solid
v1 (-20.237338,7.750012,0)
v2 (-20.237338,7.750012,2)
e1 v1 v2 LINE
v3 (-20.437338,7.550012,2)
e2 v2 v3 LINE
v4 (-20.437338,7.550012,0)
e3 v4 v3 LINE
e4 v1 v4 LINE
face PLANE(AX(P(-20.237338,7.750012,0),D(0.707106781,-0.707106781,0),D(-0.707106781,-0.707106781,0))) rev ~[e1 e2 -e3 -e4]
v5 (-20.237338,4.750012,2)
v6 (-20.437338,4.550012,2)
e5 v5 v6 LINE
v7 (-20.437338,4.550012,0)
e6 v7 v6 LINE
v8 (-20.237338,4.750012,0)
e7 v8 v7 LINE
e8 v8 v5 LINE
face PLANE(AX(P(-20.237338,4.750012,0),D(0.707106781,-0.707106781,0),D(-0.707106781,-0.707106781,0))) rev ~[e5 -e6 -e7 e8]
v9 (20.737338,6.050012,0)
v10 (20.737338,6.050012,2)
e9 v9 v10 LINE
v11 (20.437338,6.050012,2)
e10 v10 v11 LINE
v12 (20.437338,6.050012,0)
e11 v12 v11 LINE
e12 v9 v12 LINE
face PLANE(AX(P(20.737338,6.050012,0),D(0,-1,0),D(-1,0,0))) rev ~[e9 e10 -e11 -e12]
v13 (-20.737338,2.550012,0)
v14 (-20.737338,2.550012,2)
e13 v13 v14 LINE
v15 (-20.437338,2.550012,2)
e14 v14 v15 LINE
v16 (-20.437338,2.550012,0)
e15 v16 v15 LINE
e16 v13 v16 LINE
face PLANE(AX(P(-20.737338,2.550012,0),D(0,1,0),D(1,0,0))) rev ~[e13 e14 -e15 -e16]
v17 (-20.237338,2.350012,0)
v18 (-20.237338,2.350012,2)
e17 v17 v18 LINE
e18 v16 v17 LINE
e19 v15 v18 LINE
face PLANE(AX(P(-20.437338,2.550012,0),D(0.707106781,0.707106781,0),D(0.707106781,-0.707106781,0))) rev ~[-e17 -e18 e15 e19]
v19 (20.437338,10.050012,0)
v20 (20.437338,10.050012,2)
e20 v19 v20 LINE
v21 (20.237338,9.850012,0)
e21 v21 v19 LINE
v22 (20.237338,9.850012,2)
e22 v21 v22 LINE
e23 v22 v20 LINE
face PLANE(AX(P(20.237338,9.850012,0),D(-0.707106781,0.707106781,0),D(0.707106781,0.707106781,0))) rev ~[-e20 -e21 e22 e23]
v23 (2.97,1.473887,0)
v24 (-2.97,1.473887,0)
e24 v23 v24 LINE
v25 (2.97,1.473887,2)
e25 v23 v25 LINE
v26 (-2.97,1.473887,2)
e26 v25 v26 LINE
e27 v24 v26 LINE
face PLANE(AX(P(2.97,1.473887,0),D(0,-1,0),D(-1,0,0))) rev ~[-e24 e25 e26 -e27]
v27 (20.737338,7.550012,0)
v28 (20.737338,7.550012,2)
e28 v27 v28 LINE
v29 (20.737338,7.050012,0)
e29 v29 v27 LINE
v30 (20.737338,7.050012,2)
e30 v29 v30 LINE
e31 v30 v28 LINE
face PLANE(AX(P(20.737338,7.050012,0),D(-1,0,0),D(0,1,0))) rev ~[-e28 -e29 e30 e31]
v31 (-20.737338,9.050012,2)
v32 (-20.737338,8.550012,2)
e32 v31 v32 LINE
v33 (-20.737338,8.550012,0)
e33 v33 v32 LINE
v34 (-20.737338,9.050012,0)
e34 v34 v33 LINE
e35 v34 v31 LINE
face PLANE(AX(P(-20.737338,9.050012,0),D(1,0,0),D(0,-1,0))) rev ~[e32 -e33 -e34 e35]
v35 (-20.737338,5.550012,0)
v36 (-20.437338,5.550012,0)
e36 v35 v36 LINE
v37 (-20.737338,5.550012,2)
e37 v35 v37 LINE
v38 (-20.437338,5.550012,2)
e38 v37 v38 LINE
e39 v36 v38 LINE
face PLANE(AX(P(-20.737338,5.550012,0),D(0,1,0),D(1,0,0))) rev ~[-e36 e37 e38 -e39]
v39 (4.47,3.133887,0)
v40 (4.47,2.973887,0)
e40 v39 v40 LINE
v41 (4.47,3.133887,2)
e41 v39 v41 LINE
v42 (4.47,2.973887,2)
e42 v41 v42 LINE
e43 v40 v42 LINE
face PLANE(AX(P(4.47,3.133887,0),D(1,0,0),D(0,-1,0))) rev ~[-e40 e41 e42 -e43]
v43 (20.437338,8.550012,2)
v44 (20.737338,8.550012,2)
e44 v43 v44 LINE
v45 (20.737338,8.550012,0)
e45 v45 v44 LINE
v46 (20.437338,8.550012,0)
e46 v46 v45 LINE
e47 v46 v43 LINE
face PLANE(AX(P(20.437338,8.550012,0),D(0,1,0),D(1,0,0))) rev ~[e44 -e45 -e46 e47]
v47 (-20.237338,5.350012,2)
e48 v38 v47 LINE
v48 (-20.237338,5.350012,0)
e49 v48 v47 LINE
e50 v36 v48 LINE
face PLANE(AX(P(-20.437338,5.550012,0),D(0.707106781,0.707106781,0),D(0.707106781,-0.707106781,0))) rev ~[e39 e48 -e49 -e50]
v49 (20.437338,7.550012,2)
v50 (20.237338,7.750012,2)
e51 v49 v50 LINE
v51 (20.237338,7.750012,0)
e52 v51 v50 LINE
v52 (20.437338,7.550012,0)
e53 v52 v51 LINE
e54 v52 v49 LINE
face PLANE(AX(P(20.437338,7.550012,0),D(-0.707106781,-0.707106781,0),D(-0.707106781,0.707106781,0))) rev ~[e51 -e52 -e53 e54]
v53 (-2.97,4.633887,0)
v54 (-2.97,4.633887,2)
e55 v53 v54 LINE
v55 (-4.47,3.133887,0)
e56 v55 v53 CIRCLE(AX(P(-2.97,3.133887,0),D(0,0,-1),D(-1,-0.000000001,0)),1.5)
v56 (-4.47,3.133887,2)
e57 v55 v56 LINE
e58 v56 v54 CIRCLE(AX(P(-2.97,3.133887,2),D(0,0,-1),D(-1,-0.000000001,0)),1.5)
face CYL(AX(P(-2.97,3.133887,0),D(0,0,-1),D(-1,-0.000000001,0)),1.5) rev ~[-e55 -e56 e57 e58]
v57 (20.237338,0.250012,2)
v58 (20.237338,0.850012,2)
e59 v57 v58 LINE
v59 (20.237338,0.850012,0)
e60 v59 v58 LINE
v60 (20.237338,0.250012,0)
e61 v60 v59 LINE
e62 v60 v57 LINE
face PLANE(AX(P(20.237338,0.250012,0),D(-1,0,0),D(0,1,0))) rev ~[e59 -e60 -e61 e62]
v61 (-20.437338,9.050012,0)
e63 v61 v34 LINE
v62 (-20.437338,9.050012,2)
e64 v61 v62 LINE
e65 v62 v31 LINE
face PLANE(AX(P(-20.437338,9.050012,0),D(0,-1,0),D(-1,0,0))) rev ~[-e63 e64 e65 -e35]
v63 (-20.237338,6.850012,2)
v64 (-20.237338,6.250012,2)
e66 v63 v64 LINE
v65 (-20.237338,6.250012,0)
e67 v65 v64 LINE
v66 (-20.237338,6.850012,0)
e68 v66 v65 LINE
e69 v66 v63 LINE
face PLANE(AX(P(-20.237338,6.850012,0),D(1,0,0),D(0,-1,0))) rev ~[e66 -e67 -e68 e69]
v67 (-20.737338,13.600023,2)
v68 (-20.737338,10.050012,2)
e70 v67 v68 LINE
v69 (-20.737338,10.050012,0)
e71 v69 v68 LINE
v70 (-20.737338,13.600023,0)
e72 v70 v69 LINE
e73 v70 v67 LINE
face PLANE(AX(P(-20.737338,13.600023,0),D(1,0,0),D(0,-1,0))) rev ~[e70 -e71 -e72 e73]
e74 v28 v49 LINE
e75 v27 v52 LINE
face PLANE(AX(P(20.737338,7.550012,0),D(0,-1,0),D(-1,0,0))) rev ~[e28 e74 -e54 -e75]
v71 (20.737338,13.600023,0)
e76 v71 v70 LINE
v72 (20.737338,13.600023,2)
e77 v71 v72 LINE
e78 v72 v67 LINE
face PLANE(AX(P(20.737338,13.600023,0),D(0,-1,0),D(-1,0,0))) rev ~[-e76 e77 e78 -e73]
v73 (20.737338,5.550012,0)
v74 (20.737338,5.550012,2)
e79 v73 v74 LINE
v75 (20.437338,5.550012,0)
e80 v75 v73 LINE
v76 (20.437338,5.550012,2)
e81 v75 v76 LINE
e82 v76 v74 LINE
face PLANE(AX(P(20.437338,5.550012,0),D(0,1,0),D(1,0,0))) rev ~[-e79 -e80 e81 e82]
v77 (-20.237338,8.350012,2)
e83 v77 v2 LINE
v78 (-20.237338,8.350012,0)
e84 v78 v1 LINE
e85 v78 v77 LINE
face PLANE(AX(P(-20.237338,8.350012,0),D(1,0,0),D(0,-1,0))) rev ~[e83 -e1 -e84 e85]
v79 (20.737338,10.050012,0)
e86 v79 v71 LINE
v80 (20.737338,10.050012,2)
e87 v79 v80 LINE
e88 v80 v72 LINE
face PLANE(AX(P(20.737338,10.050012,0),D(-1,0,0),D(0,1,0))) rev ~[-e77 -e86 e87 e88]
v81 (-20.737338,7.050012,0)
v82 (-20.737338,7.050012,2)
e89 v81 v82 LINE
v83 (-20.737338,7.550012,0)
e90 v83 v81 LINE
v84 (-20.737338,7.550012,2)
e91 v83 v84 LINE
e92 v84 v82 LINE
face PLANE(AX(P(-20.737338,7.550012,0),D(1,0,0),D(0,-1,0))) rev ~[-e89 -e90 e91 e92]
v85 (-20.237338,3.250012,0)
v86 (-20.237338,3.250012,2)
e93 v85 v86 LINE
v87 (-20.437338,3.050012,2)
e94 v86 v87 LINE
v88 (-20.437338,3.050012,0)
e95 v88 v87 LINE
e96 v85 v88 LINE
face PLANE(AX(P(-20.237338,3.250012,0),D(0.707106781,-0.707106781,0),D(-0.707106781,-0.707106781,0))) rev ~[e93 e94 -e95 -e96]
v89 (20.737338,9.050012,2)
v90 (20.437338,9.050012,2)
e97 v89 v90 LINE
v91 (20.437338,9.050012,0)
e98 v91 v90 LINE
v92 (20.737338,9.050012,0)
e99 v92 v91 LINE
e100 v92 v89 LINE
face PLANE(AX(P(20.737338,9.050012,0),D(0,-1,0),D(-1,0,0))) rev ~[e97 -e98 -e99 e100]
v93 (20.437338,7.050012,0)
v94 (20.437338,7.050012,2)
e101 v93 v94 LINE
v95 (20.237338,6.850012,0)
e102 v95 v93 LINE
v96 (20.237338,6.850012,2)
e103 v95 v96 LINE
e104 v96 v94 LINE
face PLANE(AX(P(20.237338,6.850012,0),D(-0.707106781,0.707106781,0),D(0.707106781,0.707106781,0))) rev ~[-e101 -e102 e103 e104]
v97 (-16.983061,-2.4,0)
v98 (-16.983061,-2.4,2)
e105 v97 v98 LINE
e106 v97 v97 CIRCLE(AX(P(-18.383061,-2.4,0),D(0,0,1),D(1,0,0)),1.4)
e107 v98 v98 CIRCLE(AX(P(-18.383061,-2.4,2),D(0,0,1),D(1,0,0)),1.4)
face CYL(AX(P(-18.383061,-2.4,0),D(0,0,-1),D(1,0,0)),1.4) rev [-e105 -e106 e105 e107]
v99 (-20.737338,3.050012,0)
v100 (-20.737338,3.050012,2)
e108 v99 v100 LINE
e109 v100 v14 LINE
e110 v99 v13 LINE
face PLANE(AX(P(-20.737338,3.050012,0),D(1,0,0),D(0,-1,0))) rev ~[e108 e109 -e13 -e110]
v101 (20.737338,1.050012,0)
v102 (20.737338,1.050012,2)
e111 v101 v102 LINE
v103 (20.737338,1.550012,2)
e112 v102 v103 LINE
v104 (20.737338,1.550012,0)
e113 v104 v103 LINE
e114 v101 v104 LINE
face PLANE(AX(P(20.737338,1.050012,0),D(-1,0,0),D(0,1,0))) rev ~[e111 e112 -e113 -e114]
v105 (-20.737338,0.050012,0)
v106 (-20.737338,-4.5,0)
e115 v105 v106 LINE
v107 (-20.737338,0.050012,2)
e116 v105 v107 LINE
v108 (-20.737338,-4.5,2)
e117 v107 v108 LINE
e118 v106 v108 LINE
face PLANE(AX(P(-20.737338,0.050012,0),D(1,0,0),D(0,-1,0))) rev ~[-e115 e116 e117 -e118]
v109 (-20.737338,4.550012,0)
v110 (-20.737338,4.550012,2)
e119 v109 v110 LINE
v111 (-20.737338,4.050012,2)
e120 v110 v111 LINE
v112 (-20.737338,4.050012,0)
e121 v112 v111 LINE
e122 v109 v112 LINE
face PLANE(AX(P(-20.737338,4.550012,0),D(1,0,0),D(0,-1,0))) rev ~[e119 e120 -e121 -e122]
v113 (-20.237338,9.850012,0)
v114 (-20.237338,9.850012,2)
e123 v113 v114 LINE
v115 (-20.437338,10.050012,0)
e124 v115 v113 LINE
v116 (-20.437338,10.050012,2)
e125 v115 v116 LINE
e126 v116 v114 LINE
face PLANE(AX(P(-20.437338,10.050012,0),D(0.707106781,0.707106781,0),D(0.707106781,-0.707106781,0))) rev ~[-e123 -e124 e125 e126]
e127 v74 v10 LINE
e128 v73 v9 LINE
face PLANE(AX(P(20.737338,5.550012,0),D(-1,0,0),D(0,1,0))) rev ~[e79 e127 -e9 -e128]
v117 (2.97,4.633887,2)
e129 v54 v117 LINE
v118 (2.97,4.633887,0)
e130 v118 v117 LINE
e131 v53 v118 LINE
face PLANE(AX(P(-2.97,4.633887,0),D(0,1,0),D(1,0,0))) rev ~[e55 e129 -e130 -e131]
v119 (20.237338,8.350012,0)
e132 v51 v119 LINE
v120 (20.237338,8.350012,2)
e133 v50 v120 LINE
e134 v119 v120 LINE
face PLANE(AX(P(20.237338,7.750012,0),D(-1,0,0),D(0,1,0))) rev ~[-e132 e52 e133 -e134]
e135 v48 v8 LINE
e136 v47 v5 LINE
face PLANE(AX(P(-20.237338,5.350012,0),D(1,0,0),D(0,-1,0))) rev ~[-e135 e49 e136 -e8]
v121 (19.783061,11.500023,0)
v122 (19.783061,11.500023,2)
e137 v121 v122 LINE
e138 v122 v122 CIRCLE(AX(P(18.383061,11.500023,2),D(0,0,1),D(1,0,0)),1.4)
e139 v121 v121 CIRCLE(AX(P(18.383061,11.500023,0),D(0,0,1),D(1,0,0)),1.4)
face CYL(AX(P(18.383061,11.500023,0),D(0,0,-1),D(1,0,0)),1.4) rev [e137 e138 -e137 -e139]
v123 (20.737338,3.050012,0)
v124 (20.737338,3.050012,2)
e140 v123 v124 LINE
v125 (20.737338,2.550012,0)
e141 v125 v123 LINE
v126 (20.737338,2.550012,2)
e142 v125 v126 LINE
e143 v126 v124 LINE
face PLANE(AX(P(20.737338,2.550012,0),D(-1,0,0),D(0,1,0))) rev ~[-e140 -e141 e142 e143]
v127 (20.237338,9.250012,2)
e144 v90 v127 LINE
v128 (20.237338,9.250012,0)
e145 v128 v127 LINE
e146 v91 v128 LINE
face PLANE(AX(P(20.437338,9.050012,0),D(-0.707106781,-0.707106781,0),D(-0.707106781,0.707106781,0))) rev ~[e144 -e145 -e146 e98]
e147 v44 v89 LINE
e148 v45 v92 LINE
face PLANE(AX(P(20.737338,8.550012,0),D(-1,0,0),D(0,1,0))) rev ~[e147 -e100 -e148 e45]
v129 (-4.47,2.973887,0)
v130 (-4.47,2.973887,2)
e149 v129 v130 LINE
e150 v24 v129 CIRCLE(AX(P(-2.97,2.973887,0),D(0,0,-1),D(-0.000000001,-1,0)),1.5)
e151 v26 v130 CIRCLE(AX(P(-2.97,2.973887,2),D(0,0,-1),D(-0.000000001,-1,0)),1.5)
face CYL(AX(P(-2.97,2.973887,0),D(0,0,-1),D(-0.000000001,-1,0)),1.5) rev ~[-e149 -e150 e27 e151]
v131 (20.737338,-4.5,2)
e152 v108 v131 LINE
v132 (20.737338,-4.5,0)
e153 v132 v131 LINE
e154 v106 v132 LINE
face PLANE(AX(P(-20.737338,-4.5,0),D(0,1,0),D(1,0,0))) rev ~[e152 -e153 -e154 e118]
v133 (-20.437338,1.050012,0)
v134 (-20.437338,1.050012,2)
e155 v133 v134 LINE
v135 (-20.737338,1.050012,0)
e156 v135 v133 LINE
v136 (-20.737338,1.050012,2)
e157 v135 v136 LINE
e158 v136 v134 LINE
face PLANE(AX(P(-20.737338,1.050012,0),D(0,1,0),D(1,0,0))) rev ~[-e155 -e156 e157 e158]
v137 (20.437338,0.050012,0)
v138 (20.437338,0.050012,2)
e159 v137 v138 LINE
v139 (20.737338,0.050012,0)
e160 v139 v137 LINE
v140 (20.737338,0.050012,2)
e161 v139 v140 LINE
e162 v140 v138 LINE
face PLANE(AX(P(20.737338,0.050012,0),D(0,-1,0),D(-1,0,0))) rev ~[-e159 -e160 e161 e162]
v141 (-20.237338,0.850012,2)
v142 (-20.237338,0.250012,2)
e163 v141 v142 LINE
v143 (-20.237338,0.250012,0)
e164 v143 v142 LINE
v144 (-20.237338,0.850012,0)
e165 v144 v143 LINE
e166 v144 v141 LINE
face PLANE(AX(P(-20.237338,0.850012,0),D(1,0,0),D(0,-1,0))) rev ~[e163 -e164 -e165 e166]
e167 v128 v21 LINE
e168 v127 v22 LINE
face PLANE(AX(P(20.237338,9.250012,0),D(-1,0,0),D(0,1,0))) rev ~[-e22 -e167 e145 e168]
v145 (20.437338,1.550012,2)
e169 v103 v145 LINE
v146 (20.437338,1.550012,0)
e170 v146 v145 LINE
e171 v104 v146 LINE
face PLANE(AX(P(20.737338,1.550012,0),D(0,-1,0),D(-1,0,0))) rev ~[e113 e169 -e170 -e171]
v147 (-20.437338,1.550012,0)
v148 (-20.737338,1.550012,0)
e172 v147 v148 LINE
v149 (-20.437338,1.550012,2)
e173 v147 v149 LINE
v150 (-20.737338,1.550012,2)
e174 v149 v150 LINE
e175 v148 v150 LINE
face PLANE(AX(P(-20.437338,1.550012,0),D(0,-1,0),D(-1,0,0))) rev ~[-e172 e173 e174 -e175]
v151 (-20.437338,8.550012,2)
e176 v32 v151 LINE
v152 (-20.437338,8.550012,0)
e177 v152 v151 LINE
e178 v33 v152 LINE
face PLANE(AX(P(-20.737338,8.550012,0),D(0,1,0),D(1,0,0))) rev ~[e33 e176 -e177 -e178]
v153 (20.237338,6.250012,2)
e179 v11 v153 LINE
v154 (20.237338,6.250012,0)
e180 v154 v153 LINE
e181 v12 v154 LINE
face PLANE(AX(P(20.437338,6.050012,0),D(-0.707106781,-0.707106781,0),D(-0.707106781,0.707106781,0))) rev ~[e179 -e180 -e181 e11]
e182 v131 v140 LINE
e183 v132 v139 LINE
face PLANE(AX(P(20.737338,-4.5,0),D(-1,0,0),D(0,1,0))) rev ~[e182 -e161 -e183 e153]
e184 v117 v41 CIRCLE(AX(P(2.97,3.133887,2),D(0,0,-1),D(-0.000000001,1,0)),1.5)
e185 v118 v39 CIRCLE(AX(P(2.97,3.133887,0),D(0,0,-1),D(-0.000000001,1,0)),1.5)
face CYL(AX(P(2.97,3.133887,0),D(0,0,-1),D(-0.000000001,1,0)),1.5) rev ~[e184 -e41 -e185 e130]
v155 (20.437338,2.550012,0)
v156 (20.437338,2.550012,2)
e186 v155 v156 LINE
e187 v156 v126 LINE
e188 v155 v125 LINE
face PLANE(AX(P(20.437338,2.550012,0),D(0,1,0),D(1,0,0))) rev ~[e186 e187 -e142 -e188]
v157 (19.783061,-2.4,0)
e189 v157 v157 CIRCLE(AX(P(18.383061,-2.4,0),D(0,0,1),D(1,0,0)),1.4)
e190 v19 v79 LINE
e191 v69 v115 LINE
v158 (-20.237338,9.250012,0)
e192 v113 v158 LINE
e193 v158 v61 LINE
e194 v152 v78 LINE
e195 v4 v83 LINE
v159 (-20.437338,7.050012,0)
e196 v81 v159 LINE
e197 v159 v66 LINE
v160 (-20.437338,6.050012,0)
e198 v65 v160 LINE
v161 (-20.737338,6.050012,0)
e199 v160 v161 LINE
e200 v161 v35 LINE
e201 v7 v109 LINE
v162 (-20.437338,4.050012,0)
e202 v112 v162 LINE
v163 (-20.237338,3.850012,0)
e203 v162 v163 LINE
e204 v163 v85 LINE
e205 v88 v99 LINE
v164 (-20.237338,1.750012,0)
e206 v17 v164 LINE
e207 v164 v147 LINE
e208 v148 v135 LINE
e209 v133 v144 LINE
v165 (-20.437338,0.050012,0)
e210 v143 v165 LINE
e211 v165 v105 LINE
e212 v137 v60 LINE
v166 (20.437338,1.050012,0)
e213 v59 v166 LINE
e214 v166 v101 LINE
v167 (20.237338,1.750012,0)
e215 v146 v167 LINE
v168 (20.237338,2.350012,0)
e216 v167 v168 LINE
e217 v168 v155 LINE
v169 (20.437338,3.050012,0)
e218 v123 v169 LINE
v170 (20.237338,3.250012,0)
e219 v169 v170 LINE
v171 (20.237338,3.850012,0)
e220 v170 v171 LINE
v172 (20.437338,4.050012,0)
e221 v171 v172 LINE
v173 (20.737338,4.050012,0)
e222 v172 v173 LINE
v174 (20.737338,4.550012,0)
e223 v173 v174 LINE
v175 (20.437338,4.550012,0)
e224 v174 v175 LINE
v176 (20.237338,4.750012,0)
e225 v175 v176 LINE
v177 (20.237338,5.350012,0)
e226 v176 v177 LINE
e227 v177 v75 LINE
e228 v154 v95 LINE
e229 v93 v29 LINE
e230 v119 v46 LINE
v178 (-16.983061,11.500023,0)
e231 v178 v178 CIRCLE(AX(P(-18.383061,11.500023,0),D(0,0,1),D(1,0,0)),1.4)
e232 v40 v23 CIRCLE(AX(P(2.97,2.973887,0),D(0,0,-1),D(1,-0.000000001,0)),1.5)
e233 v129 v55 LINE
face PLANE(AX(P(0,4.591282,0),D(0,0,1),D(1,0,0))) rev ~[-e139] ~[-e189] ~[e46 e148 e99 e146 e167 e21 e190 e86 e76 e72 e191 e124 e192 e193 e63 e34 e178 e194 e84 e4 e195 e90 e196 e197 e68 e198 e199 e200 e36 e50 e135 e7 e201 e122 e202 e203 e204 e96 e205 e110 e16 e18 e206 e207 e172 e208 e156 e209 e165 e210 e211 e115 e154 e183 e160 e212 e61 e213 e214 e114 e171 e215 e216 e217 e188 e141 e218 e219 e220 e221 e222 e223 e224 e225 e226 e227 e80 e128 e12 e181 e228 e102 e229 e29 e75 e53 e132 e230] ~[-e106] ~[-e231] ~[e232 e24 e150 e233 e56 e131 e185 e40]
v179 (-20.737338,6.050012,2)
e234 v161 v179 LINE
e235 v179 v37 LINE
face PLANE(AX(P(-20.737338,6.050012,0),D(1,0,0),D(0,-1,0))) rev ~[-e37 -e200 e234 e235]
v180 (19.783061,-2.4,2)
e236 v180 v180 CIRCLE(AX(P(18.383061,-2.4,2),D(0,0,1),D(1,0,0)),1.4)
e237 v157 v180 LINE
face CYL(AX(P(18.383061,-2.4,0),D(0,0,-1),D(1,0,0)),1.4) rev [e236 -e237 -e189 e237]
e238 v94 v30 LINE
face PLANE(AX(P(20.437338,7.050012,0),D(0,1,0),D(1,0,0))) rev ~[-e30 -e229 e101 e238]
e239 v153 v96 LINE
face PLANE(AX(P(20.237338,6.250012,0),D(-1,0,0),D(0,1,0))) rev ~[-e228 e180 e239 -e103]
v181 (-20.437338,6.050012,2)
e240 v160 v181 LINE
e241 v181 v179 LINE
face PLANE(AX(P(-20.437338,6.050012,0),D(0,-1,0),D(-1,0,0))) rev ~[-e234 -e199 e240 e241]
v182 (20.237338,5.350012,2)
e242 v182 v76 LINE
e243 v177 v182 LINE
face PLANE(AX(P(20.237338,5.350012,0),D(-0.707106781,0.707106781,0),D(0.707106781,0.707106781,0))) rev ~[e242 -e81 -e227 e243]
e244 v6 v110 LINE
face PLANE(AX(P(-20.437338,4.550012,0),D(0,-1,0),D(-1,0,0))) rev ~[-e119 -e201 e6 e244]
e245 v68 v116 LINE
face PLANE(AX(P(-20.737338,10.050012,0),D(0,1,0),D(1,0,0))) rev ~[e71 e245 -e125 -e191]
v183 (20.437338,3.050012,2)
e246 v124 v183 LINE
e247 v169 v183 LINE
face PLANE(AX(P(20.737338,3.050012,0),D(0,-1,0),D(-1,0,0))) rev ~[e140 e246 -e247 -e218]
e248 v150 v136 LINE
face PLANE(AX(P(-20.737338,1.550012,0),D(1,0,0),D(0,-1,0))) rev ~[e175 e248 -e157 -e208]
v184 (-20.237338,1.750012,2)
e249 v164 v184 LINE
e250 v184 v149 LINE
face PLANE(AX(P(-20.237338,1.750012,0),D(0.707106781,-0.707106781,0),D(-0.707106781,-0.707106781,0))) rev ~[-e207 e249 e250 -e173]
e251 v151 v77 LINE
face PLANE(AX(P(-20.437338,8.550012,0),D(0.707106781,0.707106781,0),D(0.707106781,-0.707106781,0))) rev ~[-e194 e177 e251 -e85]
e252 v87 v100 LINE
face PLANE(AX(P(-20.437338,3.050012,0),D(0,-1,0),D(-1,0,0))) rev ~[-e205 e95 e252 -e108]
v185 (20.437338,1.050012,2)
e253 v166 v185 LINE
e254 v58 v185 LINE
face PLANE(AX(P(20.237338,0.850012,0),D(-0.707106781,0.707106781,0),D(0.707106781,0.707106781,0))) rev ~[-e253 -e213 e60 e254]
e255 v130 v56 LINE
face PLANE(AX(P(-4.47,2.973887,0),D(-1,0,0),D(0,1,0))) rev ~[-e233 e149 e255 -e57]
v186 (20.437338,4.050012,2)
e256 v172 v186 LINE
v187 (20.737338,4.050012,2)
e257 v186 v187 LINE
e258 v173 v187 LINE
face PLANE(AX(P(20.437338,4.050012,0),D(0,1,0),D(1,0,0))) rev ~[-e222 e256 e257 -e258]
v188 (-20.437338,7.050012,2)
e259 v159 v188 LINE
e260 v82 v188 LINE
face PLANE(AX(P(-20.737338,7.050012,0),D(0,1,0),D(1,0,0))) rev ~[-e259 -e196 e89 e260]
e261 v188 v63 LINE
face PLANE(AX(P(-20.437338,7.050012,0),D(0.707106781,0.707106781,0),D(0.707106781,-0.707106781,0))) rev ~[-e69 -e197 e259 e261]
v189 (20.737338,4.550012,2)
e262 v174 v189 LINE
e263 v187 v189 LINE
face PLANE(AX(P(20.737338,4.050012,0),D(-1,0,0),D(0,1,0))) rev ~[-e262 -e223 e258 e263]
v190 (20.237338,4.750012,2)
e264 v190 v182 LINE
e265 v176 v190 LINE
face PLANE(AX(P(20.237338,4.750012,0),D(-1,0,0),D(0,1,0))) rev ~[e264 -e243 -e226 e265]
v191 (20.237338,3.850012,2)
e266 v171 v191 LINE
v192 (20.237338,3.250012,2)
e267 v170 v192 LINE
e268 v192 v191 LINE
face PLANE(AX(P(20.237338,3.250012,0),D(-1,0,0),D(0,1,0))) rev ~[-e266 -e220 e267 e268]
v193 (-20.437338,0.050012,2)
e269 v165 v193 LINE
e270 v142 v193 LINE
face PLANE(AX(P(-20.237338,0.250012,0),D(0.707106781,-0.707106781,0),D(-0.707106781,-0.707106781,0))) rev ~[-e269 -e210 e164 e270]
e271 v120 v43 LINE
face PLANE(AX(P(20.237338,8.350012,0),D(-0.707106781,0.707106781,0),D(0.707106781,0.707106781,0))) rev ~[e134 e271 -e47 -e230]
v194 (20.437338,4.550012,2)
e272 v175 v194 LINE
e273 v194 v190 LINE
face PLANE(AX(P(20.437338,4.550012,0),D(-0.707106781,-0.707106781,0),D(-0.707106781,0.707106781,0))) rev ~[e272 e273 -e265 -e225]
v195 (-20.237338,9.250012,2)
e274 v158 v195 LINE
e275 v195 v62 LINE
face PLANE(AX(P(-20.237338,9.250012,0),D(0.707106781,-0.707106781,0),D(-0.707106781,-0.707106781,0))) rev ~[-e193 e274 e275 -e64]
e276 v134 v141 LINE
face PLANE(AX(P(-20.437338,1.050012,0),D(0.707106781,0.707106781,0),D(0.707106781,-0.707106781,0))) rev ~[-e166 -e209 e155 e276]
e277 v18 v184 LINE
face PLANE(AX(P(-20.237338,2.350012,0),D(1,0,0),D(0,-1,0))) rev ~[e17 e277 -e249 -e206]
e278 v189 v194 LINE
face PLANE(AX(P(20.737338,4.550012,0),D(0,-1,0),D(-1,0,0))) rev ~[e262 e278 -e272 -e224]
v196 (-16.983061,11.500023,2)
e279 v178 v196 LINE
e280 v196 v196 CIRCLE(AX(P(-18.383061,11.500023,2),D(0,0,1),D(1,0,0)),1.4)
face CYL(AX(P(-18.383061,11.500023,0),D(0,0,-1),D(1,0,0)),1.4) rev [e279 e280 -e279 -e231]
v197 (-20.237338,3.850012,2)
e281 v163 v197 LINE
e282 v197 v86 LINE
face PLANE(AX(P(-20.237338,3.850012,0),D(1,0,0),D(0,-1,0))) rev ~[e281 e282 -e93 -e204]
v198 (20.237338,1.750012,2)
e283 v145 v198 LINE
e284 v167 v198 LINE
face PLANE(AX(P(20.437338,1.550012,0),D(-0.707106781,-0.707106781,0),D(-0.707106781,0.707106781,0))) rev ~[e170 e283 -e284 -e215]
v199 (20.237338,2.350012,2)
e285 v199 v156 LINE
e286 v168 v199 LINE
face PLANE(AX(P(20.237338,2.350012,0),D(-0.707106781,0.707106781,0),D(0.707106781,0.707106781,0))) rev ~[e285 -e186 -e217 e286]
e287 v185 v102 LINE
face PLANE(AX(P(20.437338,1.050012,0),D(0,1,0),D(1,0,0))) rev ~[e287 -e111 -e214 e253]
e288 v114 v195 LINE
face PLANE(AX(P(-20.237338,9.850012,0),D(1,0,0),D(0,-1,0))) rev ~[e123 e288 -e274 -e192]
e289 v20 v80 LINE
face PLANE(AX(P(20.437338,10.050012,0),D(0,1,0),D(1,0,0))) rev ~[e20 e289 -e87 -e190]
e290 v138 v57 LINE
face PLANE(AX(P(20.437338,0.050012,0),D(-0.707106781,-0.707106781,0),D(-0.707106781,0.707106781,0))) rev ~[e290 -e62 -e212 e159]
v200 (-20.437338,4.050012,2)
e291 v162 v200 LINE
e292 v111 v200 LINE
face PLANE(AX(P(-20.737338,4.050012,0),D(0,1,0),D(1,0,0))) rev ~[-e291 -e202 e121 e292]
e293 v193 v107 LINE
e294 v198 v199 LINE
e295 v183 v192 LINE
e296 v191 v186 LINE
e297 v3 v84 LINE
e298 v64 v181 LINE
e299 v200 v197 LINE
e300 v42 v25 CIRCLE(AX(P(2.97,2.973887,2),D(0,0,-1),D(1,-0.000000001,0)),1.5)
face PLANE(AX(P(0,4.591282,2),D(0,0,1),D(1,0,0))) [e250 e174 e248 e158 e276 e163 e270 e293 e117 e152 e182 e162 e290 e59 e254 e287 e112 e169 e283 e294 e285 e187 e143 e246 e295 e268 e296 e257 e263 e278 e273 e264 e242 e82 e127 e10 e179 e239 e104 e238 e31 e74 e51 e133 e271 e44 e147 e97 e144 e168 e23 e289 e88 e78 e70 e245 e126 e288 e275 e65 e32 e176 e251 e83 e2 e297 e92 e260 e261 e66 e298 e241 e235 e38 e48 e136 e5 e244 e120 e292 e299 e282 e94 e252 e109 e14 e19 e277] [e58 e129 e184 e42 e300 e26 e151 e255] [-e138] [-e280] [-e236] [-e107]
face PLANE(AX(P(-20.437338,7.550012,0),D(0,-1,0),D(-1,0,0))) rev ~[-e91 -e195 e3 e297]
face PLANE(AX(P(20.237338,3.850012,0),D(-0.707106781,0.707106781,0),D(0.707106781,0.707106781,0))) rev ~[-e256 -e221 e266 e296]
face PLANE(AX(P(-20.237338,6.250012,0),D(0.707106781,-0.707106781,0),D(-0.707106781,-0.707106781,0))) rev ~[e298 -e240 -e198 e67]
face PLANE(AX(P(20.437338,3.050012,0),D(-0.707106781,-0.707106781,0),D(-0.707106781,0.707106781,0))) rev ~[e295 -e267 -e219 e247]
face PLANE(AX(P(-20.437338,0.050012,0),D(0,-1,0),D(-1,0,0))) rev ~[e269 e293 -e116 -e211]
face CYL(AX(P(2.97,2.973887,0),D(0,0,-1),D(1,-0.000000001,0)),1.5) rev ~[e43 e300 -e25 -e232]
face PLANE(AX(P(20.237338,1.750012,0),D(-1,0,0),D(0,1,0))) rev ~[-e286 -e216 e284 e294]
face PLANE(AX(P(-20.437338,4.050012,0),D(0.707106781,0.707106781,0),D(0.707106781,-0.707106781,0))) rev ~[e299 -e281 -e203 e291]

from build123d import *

# Parameters (mm, degrees)
SKETCH_1_R          = 1.4
EXTRUDE_2_DEPTH     = 2
CUT_EXTRUDE_1_REACH = 26.88


with BuildPart() as part:
    # 草图1 → 凸台-拉伸2 (new body)
    with BuildSketch(Plane.XY):
        Polygon((20.737338075, 10.050011688), (20.737338075, 13.600023376), (-20.737338075, 13.600023376), (-20.737338075, 10.050011688), (-20.437338075, 10.050011688), (-20.237338075, 9.850011688), (-20.237338075, 9.250011688), (-20.437338075, 9.050011688), (-20.737338075, 9.050011688), (-20.737338075, 8.550011688), (-20.437338075, 8.550011688), (-20.237338075, 8.350011688), (-20.237338075, 7.750011688), (-20.437338075, 7.550011688), (-20.737338075, 7.550011688), (-20.737338075, 7.050011688), (-20.437338075, 7.050011688), (-20.237338075, 6.850011688), (-20.237338075, 6.250011688), (-20.437338075, 6.050011688), (-20.737338075, 6.050011688), (-20.737338075, 5.550011688), (-20.437338075, 5.550011688), (-20.237338075, 5.350011688), (-20.237338075, 4.750011688), (-20.437338075, 4.550011688), (-20.737338075, 4.550011688), (-20.737338075, 4.050011688), (-20.437338075, 4.050011688), (-20.237338075, 3.850011688), (-20.237338075, 3.250011688), (-20.437338075, 3.050011688), (-20.737338075, 3.050011688), (-20.737338075, 2.550011688), (-20.437338075, 2.550011688), (-20.237338075, 2.350011688), (-20.237338075, 1.750011688), (-20.437338075, 1.550011688), (-20.737338075, 1.550011688), (-20.737338075, 1.050011688), (-20.437338075, 1.050011688), (-20.237338075, 0.850011688), (-20.237338075, 0.250011688), (-20.437338075, 0.050011688), (-20.737338075, 0.050011688), (-20.737338075, -4.5), (20.737338075, -4.5), (20.737338075, 0.050011688), (20.437338075, 0.050011688), (20.237338075, 0.250011688), (20.237338075, 0.850011688), (20.437338075, 1.050011688), (20.737338075, 1.050011688), (20.737338075, 1.550011688), (20.437338075, 1.550011688), (20.237338075, 1.750011688), (20.237338075, 2.350011688), (20.437338075, 2.550011688), (20.737338075, 2.550011688), (20.737338075, 3.050011688), (20.437338075, 3.050011688), (20.237338075, 3.250011688), (20.237338075, 3.850011688), (20.437338075, 4.050011688), (20.737338075, 4.050011688), (20.737338075, 4.550011688), (20.437338075, 4.550011688), (20.237338075, 4.750011688), (20.237338075, 5.350011688), (20.437338075, 5.550011688), (20.737338075, 5.550011688), (20.737338075, 6.050011688), (20.437338075, 6.050011688), (20.237338075, 6.250011688), (20.237338075, 6.850011688), (20.437338075, 7.050011688), (20.737338075, 7.050011688), (20.737338075, 7.550011688), (20.437338075, 7.550011688), (20.237338075, 7.750011688), (20.237338075, 8.350011688), (20.437338075, 8.550011688), (20.737338075, 8.550011688), (20.737338075, 9.050011688), (20.437338075, 9.050011688), (20.237338075, 9.250011688), (20.237338075, 9.850011688), (20.437338075, 10.050011688), align=None)
        with Locations((-18.383061341, 11.500023376)):
            Circle(SKETCH_1_R, mode=Mode.SUBTRACT)
        with Locations((-18.383061341, -2.4)):
            Circle(SKETCH_1_R, mode=Mode.SUBTRACT)
        with Locations((18.383061341, -2.4)):
            Circle(SKETCH_1_R, mode=Mode.SUBTRACT)
        with Locations((18.383061341, 11.500023376)):
            Circle(SKETCH_1_R, mode=Mode.SUBTRACT)
    extrude(amount=EXTRUDE_2_DEPTH)

    # 草图2 → 切除-拉伸1 (cut, up to next)
    with BuildSketch(Plane(origin=(0, 0, 0), x_dir=(-1, 0, 0), z_dir=(0, 0, -1)), mode=Mode.PRIVATE) as cut_extrude_1_sk1:
        with BuildLine():
            Line((2.97, 4.63388738), (-2.97, 4.63388738))
            ThreePointArc((-2.97, 4.63388738), (-4.030660172, 4.194547552), (-4.47, 3.13388738))
            Line((-4.47, 3.13388738), (-4.47, 2.97388738))
            ThreePointArc((-4.47, 2.97388738), (-4.030660172, 1.913227209), (-2.97, 1.47388738))
            Line((-2.97, 1.47388738), (-0.05, 1.47388738))
            Line((-0.05, 1.47388738), (2.97, 1.47388738))
            ThreePointArc((2.97, 1.47388738), (4.030660172, 1.913227209), (4.47, 2.97388738))
            Line((4.47, 2.97388738), (4.47, 3.13388738))
            ThreePointArc((4.47, 3.13388738), (4.030660172, 4.194547552), (2.97, 4.63388738))
        make_face()
    cut_extrude_1_tool1 = extrude(cut_extrude_1_sk1.sketch, amount=-CUT_EXTRUDE_1_REACH, mode=Mode.PRIVATE) & part.part
    add(cut_extrude_1_tool1.solids().sort_by_distance((0, 3.053887, 0))[0], mode=Mode.SUBTRACT)


solid = part.part
